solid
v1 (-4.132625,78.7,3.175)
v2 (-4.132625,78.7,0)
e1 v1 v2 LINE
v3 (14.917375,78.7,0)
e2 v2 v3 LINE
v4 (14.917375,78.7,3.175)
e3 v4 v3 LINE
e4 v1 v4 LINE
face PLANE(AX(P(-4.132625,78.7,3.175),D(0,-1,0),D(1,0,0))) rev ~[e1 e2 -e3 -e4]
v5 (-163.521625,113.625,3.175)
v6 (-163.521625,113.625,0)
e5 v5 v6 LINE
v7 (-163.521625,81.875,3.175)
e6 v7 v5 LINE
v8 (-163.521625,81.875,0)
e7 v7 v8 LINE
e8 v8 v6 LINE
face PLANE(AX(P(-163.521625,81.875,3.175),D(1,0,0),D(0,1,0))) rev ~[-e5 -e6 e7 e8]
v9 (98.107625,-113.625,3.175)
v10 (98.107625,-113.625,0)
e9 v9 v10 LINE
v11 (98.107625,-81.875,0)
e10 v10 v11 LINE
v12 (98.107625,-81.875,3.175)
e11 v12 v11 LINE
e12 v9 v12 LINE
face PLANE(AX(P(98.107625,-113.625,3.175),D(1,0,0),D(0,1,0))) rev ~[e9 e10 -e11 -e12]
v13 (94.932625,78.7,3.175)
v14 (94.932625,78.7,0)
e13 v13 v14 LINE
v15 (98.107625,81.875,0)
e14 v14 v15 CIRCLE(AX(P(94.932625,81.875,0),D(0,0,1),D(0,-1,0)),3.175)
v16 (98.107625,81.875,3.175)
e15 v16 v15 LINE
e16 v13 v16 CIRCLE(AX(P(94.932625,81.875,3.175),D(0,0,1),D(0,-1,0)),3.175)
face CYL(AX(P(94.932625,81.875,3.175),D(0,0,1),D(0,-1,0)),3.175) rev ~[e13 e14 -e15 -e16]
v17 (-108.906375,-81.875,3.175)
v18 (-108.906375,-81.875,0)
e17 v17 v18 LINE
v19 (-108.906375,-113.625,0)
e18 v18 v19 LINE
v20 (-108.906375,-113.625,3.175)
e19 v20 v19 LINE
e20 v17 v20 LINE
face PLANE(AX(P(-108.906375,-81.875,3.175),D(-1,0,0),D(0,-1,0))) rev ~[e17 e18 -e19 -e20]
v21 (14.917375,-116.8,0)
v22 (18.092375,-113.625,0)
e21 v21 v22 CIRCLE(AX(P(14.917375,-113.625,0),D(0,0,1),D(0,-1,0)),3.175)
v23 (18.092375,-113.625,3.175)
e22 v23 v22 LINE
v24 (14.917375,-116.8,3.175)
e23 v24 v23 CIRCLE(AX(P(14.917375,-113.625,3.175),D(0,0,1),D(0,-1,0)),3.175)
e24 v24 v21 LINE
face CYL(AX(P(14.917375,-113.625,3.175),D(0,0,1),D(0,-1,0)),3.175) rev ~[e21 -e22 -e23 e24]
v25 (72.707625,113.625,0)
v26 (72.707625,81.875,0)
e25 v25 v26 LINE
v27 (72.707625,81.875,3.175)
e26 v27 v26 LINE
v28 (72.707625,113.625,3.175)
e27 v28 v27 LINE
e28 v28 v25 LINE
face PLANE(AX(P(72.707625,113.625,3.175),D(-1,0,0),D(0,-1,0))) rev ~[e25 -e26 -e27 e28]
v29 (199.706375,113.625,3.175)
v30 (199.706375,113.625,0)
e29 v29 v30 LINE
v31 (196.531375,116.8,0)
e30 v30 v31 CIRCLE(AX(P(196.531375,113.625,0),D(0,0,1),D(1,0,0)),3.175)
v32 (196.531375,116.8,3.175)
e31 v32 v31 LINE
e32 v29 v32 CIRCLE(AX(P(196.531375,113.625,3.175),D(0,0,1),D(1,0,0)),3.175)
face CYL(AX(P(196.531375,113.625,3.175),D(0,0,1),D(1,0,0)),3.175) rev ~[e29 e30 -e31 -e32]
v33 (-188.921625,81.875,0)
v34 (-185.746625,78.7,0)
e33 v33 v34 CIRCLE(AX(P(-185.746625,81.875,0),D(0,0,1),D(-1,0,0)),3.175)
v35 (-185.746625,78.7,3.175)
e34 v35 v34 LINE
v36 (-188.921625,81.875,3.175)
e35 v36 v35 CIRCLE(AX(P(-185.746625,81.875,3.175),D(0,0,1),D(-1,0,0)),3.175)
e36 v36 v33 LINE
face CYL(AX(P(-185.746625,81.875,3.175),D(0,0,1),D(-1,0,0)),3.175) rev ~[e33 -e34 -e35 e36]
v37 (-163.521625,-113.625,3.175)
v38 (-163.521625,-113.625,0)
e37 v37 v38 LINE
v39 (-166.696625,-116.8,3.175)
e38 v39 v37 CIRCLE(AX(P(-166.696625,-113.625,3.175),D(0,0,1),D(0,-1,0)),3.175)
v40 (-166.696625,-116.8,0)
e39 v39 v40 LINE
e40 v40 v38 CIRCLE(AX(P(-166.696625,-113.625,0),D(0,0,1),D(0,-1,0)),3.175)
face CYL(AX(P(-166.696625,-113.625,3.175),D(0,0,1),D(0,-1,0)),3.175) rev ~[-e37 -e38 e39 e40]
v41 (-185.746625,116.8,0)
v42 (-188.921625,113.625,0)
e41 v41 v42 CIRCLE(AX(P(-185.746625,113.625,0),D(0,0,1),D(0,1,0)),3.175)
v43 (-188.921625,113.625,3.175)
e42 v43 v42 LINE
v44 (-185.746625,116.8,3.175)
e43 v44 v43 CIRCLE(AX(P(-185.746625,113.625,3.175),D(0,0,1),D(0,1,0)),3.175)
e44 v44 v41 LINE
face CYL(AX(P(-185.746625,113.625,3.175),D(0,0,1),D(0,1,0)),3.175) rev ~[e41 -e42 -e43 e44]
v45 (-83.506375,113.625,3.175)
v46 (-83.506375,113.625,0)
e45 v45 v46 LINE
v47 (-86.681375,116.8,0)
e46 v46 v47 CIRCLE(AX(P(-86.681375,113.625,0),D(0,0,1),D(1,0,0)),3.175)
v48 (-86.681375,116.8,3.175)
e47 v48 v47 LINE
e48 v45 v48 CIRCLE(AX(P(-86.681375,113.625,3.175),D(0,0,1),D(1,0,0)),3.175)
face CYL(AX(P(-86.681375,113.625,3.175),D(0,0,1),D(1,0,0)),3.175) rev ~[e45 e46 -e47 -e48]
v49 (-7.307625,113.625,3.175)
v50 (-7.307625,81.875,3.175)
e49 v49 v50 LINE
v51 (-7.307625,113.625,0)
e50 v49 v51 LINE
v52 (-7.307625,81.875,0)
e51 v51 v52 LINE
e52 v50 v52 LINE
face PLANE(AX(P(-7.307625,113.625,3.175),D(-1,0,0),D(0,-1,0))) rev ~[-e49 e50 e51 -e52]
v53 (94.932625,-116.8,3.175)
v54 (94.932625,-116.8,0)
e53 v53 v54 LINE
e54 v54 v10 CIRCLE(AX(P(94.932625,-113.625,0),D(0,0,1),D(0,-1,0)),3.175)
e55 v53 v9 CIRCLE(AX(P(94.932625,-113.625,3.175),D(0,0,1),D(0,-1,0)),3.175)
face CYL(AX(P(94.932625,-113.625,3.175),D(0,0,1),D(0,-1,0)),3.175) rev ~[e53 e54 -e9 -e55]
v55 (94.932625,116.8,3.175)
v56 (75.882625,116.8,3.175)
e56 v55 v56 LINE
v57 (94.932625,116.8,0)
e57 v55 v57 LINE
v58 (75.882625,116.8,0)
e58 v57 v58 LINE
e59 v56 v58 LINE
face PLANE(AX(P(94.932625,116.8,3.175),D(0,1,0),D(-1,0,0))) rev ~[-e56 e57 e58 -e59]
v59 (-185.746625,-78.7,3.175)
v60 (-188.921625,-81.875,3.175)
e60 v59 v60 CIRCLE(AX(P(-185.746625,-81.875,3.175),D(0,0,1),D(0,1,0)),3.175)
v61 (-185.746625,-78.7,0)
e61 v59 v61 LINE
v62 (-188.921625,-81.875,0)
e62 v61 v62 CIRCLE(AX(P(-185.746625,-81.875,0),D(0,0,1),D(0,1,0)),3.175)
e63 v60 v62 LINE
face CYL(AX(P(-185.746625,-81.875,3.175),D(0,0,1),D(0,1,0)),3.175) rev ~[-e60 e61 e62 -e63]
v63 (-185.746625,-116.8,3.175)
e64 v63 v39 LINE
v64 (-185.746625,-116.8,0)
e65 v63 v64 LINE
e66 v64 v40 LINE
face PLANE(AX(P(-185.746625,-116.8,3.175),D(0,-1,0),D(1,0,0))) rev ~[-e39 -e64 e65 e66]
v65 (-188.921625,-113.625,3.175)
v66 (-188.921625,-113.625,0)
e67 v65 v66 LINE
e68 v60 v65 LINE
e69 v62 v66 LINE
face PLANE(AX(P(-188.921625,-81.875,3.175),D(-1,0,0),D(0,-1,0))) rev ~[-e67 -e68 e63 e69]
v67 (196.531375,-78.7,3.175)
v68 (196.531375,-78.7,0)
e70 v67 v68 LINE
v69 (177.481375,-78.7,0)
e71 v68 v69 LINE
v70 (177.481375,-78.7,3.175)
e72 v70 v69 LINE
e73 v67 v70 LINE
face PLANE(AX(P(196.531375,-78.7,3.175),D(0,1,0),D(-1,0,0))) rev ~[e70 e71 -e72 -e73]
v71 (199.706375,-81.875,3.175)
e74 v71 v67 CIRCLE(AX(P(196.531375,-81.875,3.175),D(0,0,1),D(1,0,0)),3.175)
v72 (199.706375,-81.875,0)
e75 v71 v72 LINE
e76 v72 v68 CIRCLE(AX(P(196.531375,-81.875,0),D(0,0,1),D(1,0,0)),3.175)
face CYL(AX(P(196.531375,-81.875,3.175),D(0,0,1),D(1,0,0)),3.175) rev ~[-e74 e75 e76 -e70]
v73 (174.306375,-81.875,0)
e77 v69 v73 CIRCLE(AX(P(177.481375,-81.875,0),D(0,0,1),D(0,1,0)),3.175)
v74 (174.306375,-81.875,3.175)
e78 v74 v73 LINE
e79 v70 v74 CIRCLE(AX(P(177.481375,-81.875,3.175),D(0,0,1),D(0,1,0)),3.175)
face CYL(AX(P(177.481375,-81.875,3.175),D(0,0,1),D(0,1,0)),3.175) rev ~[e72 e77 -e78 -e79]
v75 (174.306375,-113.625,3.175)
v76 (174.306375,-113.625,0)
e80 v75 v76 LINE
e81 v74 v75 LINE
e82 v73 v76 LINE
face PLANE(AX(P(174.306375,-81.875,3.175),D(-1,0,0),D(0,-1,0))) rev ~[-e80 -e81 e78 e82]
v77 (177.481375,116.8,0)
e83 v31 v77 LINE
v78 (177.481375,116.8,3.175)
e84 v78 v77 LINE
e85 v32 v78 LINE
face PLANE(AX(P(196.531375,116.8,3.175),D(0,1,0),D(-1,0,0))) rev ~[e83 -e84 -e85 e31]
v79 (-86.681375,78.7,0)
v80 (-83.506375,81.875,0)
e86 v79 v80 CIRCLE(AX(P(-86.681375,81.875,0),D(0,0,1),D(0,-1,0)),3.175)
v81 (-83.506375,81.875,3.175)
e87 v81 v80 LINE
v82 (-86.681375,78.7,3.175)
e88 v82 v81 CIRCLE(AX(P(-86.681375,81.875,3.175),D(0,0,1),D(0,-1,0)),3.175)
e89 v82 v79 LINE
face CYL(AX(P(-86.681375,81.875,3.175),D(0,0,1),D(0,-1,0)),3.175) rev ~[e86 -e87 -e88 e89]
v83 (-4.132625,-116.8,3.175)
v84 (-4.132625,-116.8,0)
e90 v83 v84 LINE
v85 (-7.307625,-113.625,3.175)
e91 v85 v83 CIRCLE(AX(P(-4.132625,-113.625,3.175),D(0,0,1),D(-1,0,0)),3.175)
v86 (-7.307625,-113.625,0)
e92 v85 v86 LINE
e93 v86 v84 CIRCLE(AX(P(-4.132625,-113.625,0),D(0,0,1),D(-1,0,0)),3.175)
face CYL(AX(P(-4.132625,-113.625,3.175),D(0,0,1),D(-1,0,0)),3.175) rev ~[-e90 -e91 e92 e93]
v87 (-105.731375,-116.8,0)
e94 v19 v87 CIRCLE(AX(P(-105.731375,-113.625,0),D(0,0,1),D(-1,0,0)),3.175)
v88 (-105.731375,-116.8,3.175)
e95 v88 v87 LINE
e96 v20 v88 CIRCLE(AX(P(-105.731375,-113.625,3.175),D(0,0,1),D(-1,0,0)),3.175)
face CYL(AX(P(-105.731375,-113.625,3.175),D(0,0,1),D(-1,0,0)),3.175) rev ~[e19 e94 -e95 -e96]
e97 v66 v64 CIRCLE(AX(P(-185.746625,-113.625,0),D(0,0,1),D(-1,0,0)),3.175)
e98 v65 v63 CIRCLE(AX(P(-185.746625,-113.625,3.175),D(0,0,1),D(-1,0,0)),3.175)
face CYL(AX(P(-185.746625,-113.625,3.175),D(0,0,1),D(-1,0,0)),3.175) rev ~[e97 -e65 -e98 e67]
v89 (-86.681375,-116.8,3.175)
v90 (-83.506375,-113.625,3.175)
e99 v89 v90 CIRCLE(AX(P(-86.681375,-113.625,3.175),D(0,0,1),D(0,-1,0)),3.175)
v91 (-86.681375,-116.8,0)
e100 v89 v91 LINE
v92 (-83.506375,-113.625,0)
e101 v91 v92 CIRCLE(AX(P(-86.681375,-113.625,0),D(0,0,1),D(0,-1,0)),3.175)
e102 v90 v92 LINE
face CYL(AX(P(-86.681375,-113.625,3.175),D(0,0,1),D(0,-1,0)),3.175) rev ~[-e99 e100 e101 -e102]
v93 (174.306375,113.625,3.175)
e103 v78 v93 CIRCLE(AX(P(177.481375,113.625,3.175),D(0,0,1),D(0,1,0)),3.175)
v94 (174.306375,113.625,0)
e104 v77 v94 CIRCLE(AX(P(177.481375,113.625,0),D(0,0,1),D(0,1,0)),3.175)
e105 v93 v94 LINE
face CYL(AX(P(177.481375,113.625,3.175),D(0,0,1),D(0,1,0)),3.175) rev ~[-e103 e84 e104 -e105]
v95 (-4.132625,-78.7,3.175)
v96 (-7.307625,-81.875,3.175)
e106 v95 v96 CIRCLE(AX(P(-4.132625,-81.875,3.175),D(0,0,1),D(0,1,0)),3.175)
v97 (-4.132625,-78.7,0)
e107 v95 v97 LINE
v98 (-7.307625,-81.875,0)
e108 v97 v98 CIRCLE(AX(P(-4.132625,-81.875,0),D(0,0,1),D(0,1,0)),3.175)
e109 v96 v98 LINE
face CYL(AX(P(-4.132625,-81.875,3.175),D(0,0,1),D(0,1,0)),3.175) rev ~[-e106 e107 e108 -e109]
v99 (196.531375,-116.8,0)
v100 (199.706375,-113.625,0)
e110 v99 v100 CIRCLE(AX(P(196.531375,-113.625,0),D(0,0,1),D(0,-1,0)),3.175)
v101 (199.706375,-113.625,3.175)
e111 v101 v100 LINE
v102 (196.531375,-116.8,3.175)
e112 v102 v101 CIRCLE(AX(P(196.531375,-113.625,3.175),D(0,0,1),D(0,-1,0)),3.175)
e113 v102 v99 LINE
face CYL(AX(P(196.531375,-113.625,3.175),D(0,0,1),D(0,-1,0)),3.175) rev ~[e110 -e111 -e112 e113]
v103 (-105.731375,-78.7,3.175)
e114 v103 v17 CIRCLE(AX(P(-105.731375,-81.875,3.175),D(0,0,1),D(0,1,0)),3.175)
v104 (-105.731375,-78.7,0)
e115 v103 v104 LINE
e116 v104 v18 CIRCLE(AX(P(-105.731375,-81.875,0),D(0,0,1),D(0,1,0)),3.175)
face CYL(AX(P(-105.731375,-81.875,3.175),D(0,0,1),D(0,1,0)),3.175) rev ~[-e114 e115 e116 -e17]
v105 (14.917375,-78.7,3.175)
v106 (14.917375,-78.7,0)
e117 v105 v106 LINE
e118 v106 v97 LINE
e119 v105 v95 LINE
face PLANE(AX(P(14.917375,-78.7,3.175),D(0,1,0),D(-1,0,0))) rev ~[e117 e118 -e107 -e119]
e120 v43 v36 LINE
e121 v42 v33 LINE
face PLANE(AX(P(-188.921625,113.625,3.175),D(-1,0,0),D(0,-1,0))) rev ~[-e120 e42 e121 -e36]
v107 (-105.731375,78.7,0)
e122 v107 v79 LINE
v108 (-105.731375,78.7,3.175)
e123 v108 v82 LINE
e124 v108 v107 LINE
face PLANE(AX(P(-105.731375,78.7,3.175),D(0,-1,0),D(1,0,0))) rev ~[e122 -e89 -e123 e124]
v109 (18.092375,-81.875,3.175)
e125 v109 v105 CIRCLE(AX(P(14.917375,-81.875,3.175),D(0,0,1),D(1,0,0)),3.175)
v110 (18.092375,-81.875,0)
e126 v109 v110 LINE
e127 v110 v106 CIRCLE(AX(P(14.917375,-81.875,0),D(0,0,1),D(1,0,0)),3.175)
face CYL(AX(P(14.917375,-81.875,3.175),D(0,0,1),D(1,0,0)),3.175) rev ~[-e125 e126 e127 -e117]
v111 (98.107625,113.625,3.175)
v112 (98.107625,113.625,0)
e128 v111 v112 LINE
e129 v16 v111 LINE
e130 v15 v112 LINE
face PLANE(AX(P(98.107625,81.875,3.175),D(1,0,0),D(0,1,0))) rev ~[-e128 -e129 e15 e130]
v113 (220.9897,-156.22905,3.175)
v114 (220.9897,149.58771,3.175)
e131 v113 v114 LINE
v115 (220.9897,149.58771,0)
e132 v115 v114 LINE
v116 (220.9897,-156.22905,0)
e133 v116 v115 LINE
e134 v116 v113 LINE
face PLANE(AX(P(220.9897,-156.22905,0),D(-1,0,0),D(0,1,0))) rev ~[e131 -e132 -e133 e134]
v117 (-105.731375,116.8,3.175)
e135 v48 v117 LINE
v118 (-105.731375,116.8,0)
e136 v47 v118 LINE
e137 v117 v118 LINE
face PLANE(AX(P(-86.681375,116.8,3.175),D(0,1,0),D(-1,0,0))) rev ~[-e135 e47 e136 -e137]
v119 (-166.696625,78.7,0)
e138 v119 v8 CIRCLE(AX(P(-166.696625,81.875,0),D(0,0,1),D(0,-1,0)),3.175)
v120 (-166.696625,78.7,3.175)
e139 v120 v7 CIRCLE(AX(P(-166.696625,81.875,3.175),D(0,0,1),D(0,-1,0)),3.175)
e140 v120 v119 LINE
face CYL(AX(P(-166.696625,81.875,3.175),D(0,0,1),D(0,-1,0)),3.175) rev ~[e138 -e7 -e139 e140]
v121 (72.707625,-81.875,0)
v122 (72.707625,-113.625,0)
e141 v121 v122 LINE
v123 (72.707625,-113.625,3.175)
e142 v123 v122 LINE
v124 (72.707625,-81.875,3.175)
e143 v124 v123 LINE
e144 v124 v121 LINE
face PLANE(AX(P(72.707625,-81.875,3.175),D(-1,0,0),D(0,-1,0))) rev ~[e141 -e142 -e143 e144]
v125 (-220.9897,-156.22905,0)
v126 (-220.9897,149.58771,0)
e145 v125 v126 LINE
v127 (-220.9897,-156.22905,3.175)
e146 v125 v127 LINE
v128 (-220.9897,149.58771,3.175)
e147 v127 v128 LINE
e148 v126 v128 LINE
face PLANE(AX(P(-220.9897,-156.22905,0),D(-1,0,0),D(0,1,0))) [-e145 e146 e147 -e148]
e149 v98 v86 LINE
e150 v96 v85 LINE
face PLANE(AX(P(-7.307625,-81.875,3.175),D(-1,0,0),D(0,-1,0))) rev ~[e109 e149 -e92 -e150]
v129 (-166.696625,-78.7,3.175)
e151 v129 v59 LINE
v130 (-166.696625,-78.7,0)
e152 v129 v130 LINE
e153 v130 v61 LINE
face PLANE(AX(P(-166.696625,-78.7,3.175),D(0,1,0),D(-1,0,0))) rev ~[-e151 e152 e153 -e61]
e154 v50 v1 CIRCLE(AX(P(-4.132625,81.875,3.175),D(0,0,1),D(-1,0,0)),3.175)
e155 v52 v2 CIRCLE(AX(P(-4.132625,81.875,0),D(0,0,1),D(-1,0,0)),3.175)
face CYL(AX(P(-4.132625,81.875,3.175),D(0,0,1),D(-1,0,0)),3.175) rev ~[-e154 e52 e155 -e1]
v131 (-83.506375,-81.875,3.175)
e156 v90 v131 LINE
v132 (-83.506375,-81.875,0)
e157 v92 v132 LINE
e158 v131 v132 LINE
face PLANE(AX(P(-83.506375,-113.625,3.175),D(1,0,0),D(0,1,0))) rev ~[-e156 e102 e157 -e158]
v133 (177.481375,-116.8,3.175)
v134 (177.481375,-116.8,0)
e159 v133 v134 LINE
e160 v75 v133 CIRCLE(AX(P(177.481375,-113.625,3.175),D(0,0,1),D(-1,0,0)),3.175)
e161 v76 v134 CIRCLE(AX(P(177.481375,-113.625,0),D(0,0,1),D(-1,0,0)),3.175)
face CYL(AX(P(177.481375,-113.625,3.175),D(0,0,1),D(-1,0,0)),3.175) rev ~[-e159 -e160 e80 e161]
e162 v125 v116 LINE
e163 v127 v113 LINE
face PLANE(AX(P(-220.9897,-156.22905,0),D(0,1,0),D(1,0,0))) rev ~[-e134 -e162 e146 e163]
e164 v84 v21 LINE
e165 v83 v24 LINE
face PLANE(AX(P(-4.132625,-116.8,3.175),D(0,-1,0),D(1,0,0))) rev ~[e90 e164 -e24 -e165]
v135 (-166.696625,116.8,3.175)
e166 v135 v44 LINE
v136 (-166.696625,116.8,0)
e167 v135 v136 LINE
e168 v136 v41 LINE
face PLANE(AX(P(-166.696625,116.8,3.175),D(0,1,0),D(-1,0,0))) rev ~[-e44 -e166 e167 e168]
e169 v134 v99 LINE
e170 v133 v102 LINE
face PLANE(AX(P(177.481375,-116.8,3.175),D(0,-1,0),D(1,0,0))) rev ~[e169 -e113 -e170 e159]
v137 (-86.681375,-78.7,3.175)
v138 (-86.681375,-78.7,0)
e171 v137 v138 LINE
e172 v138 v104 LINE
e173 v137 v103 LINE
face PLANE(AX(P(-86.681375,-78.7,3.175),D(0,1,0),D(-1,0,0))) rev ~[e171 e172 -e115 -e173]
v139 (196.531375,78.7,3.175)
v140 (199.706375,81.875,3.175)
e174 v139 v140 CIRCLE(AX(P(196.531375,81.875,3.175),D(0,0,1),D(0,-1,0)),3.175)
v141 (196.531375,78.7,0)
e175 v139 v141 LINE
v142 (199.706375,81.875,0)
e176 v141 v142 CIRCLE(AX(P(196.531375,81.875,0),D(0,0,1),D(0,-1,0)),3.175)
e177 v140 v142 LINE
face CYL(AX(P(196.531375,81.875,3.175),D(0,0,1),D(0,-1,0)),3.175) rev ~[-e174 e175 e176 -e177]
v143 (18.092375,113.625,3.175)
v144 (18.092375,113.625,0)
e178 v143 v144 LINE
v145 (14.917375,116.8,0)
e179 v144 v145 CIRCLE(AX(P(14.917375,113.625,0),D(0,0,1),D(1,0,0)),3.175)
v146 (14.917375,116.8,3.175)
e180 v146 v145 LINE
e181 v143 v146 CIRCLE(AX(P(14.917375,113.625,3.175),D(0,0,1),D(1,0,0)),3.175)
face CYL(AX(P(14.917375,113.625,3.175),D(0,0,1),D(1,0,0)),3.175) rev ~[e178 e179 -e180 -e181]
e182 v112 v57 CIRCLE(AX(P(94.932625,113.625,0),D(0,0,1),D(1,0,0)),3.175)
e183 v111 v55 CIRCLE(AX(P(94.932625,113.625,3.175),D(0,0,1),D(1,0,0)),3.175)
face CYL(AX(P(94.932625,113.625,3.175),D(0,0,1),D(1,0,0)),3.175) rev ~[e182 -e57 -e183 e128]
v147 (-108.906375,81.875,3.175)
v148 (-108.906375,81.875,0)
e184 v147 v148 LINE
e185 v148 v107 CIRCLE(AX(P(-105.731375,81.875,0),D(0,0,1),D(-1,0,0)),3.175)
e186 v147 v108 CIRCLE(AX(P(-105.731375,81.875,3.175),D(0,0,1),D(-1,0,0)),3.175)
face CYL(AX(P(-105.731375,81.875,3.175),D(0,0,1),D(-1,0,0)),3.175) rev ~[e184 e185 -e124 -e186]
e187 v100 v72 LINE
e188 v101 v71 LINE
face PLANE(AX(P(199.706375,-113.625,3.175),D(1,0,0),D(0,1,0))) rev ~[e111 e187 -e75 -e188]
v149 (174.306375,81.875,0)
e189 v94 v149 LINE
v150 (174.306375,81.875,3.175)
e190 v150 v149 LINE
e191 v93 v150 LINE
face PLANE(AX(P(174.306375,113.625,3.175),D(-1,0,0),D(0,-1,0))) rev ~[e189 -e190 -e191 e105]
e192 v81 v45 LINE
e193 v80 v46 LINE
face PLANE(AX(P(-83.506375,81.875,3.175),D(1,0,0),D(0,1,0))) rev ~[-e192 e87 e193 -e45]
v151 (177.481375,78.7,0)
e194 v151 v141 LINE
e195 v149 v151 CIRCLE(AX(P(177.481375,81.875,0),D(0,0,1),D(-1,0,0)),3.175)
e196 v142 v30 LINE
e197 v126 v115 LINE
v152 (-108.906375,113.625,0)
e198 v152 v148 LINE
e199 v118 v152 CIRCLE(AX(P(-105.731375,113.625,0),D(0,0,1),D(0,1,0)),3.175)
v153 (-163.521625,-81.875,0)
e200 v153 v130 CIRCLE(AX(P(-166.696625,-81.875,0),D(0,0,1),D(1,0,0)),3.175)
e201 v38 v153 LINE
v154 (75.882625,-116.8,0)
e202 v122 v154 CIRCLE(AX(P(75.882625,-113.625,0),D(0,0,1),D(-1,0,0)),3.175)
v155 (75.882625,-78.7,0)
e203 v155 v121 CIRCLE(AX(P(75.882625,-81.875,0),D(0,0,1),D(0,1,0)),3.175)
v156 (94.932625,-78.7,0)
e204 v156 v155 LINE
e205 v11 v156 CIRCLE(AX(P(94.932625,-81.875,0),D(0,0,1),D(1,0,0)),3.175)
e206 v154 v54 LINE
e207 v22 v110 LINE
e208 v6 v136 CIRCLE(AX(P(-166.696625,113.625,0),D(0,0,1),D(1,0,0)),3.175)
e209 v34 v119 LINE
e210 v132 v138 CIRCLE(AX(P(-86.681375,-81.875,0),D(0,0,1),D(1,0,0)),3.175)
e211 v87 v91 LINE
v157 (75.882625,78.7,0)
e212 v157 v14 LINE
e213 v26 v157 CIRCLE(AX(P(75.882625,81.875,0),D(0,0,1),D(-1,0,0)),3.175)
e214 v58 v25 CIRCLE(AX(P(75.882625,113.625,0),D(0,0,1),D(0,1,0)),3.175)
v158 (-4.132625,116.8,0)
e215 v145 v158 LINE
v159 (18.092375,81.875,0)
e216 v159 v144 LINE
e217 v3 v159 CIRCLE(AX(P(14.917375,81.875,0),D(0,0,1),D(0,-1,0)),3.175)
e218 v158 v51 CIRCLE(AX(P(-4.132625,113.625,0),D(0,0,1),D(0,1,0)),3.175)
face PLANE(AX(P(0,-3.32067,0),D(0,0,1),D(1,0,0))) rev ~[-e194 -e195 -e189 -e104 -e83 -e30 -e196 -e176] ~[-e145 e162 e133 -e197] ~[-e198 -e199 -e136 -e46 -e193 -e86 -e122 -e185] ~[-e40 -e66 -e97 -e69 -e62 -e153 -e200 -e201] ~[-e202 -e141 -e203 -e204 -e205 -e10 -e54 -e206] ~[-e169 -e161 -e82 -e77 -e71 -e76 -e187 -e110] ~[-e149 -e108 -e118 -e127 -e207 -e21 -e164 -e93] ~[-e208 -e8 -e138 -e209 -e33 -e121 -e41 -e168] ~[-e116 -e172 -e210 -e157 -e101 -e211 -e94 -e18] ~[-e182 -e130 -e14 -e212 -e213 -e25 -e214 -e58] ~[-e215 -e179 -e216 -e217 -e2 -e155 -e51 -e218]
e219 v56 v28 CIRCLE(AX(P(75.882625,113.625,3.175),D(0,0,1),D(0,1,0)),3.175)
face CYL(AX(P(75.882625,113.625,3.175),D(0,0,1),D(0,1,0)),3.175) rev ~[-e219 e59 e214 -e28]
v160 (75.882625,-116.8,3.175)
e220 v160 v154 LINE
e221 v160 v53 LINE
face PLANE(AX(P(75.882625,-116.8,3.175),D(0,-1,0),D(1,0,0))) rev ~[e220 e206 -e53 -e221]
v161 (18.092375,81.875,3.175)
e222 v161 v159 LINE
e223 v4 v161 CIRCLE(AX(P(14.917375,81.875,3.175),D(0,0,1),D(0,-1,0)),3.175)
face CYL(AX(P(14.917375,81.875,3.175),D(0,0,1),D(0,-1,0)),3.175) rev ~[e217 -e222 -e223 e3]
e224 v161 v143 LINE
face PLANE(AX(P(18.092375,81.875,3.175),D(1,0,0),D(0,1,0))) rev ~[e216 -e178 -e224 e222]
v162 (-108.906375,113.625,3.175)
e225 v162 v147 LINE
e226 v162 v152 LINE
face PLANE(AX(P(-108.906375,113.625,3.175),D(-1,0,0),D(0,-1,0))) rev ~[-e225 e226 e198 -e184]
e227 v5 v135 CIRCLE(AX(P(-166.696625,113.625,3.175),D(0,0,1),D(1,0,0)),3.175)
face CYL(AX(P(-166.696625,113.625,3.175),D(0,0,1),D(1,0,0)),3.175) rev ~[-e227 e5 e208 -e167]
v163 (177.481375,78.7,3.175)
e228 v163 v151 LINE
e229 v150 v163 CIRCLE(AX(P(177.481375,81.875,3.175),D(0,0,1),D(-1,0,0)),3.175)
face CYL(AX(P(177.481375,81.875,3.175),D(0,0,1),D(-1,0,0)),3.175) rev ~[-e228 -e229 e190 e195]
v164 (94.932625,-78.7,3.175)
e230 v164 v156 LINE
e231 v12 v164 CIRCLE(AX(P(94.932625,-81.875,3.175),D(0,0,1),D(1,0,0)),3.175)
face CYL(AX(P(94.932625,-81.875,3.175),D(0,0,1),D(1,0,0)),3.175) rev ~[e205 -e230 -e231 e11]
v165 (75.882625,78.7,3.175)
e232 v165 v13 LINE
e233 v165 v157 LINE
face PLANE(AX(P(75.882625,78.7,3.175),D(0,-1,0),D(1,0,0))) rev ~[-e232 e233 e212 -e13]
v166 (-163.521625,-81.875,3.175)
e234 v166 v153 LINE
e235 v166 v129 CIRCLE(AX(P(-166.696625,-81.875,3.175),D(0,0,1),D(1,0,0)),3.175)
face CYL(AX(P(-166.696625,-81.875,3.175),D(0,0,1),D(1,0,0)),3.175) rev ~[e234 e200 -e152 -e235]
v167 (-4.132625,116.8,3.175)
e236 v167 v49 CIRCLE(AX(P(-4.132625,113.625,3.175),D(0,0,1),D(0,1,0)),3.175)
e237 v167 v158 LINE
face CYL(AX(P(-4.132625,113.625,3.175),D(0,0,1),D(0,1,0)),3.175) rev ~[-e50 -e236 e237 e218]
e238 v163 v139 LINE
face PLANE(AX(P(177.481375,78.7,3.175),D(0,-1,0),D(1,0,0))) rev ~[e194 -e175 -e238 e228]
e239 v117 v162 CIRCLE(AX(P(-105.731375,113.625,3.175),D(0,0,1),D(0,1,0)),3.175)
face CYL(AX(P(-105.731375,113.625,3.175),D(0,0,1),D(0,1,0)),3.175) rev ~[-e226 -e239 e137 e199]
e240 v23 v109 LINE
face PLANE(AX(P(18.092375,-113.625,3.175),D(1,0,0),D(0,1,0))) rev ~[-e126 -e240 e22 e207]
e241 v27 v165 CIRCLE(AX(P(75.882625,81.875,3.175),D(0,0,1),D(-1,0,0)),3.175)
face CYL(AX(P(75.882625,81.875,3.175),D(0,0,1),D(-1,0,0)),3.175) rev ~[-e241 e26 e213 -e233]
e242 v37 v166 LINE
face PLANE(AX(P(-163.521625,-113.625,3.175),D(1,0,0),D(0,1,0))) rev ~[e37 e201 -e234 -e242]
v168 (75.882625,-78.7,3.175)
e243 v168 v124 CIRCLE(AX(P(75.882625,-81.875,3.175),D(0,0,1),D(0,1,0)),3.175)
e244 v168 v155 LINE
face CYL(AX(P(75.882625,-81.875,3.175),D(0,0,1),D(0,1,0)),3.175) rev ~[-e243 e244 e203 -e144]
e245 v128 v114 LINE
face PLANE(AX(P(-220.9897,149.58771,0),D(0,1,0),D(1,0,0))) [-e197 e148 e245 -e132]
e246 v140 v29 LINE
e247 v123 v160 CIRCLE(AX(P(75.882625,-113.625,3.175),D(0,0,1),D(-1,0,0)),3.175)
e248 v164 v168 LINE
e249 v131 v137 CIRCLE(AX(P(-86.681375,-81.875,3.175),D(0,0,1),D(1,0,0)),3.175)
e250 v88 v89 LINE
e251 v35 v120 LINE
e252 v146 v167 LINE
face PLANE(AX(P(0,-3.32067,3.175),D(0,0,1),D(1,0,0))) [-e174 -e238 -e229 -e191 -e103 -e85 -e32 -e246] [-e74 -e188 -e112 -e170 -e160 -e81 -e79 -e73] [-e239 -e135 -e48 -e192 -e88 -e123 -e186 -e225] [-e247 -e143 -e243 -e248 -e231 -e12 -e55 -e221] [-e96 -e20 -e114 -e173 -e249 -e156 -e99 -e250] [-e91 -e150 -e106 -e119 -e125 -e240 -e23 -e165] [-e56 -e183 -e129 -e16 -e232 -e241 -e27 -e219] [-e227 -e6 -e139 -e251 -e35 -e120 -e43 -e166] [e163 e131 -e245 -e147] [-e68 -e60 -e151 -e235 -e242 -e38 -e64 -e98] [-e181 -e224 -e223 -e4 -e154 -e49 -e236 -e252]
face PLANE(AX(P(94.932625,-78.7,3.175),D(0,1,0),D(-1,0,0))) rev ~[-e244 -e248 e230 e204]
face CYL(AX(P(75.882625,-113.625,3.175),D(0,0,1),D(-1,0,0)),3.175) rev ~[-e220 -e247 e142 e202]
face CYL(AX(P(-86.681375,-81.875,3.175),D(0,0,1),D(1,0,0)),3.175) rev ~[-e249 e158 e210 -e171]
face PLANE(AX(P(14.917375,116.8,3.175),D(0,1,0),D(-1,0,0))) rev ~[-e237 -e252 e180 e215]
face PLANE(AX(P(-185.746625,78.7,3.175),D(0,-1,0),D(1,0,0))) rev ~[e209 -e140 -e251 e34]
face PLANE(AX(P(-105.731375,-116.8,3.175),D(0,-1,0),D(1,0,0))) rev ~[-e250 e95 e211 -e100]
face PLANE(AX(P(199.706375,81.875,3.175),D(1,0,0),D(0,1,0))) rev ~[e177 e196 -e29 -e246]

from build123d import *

# Parameters (mm, degrees)
SKETCH1_W           = 441.979400076
SKETCH1_H           = 305.81676
BOSS_EXTRUDE1_DEPTH = 3.175
CUT_EXTRUDE1_DEPTH  = 271.654843319
CUT_EXTRUDE2_DEPTH  = 271.654843319
LPATTERN1_COUNT     = 3
LPATTERN1_PITCH     = 181.613999992
LPATTERN2_COUNT     = 2
LPATTERN2_PITCH     = 181.613999992


with BuildPart() as part:
    # Sketch1 → Boss-Extrude1 (new body)
    with BuildSketch(Plane.XY):
        with Locations((0, -3.32067)):
            Rectangle(SKETCH1_W, SKETCH1_H)
    extrude(amount=BOSS_EXTRUDE1_DEPTH)

    # Sketch2 → Cut-Extrude1 (cut, through all)
    with BuildSketch(Plane.XY.offset(3.175)):
        with BuildLine():
            Line((-185.746625, -116.8), (-166.696625, -116.8))
            ThreePointArc((-166.696625, -116.8), (-164.45156097, -115.87006403), (-163.521625, -113.625))
            Line((-163.521625, -113.625), (-163.521625, -81.875))
            ThreePointArc((-163.521625, -81.875), (-164.45156097, -79.62993597), (-166.696625, -78.7))
            Line((-166.696625, -78.7), (-185.746625, -78.7))
            ThreePointArc((-185.746625, -78.7), (-187.99168903, -79.62993597), (-188.921625, -81.875))
            Line((-188.921625, -81.875), (-188.921625, -113.625))
            ThreePointArc((-188.921625, -113.625), (-187.99168903, -115.87006403), (-185.746625, -116.8))
        make_face()
        with BuildLine():
            Line((-185.746625, 78.7), (-166.696625, 78.7))
            ThreePointArc((-166.696625, 78.7), (-164.45156097, 79.62993597), (-163.521625, 81.875))
            Line((-163.521625, 81.875), (-163.521625, 113.625))
            ThreePointArc((-163.521625, 113.625), (-164.45156097, 115.87006403), (-166.696625, 116.8))
            Line((-166.696625, 116.8), (-185.746625, 116.8))
            ThreePointArc((-185.746625, 116.8), (-187.99168903, 115.87006403), (-188.921625, 113.625))
            Line((-188.921625, 113.625), (-188.921625, 81.875))
            ThreePointArc((-188.921625, 81.875), (-187.99168903, 79.62993597), (-185.746625, 78.7))
        make_face()
    cut_extrude1 = extrude(amount=-CUT_EXTRUDE1_DEPTH, mode=Mode.SUBTRACT)

    # Sketch3 → Cut-Extrude2 (cut, through all)
    with BuildSketch(Plane.XY.offset(3.175)):
        with BuildLine():
            Line((-108.906375, -81.875), (-108.906375, -113.625))
            ThreePointArc((-108.906375, -113.625), (-107.97643903, -115.87006403), (-105.731375, -116.8))
            Line((-105.731375, -116.8), (-86.681375, -116.8))
            ThreePointArc((-86.681375, -116.8), (-84.43631097, -115.87006403), (-83.506375, -113.625))
            Line((-83.506375, -113.625), (-83.506375, -81.875))
            ThreePointArc((-83.506375, -81.875), (-84.43631097, -79.62993597), (-86.681375, -78.7))
            Line((-86.681375, -78.7), (-105.731375, -78.7))
            ThreePointArc((-105.731375, -78.7), (-107.97643903, -79.62993597), (-108.906375, -81.875))
        make_face()
        with BuildLine():
            Line((-83.506375, 81.875), (-83.506375, 113.625))
            ThreePointArc((-83.506375, 113.625), (-84.43631097, 115.87006403), (-86.681375, 116.8))
            Line((-86.681375, 116.8), (-105.731375, 116.8))
            ThreePointArc((-105.731375, 116.8), (-107.97643903, 115.87006403), (-108.906375, 113.625))
            Line((-108.906375, 113.625), (-108.906375, 81.875))
            ThreePointArc((-108.906375, 81.875), (-107.97643903, 79.62993597), (-105.731375, 78.7))
            Line((-105.731375, 78.7), (-86.681375, 78.7))
            ThreePointArc((-86.681375, 78.7), (-84.43631097, 79.62993597), (-83.506375, 81.875))
        make_face()
    cut_extrude2 = extrude(amount=-CUT_EXTRUDE2_DEPTH, mode=Mode.SUBTRACT)

    # LPattern1: Cut-Extrude1 ×3
    with Locations(*[(i * LPATTERN1_PITCH, 0, 0) for i in range(1, LPATTERN1_COUNT)]):
        add(cut_extrude1, mode=Mode.SUBTRACT)

    # LPattern2: Cut-Extrude2 ×2
    with Locations(*[(i * LPATTERN2_PITCH, 0, 0) for i in range(1, LPATTERN2_COUNT)]):
        add(cut_extrude2, mode=Mode.SUBTRACT)


solid = part.part
